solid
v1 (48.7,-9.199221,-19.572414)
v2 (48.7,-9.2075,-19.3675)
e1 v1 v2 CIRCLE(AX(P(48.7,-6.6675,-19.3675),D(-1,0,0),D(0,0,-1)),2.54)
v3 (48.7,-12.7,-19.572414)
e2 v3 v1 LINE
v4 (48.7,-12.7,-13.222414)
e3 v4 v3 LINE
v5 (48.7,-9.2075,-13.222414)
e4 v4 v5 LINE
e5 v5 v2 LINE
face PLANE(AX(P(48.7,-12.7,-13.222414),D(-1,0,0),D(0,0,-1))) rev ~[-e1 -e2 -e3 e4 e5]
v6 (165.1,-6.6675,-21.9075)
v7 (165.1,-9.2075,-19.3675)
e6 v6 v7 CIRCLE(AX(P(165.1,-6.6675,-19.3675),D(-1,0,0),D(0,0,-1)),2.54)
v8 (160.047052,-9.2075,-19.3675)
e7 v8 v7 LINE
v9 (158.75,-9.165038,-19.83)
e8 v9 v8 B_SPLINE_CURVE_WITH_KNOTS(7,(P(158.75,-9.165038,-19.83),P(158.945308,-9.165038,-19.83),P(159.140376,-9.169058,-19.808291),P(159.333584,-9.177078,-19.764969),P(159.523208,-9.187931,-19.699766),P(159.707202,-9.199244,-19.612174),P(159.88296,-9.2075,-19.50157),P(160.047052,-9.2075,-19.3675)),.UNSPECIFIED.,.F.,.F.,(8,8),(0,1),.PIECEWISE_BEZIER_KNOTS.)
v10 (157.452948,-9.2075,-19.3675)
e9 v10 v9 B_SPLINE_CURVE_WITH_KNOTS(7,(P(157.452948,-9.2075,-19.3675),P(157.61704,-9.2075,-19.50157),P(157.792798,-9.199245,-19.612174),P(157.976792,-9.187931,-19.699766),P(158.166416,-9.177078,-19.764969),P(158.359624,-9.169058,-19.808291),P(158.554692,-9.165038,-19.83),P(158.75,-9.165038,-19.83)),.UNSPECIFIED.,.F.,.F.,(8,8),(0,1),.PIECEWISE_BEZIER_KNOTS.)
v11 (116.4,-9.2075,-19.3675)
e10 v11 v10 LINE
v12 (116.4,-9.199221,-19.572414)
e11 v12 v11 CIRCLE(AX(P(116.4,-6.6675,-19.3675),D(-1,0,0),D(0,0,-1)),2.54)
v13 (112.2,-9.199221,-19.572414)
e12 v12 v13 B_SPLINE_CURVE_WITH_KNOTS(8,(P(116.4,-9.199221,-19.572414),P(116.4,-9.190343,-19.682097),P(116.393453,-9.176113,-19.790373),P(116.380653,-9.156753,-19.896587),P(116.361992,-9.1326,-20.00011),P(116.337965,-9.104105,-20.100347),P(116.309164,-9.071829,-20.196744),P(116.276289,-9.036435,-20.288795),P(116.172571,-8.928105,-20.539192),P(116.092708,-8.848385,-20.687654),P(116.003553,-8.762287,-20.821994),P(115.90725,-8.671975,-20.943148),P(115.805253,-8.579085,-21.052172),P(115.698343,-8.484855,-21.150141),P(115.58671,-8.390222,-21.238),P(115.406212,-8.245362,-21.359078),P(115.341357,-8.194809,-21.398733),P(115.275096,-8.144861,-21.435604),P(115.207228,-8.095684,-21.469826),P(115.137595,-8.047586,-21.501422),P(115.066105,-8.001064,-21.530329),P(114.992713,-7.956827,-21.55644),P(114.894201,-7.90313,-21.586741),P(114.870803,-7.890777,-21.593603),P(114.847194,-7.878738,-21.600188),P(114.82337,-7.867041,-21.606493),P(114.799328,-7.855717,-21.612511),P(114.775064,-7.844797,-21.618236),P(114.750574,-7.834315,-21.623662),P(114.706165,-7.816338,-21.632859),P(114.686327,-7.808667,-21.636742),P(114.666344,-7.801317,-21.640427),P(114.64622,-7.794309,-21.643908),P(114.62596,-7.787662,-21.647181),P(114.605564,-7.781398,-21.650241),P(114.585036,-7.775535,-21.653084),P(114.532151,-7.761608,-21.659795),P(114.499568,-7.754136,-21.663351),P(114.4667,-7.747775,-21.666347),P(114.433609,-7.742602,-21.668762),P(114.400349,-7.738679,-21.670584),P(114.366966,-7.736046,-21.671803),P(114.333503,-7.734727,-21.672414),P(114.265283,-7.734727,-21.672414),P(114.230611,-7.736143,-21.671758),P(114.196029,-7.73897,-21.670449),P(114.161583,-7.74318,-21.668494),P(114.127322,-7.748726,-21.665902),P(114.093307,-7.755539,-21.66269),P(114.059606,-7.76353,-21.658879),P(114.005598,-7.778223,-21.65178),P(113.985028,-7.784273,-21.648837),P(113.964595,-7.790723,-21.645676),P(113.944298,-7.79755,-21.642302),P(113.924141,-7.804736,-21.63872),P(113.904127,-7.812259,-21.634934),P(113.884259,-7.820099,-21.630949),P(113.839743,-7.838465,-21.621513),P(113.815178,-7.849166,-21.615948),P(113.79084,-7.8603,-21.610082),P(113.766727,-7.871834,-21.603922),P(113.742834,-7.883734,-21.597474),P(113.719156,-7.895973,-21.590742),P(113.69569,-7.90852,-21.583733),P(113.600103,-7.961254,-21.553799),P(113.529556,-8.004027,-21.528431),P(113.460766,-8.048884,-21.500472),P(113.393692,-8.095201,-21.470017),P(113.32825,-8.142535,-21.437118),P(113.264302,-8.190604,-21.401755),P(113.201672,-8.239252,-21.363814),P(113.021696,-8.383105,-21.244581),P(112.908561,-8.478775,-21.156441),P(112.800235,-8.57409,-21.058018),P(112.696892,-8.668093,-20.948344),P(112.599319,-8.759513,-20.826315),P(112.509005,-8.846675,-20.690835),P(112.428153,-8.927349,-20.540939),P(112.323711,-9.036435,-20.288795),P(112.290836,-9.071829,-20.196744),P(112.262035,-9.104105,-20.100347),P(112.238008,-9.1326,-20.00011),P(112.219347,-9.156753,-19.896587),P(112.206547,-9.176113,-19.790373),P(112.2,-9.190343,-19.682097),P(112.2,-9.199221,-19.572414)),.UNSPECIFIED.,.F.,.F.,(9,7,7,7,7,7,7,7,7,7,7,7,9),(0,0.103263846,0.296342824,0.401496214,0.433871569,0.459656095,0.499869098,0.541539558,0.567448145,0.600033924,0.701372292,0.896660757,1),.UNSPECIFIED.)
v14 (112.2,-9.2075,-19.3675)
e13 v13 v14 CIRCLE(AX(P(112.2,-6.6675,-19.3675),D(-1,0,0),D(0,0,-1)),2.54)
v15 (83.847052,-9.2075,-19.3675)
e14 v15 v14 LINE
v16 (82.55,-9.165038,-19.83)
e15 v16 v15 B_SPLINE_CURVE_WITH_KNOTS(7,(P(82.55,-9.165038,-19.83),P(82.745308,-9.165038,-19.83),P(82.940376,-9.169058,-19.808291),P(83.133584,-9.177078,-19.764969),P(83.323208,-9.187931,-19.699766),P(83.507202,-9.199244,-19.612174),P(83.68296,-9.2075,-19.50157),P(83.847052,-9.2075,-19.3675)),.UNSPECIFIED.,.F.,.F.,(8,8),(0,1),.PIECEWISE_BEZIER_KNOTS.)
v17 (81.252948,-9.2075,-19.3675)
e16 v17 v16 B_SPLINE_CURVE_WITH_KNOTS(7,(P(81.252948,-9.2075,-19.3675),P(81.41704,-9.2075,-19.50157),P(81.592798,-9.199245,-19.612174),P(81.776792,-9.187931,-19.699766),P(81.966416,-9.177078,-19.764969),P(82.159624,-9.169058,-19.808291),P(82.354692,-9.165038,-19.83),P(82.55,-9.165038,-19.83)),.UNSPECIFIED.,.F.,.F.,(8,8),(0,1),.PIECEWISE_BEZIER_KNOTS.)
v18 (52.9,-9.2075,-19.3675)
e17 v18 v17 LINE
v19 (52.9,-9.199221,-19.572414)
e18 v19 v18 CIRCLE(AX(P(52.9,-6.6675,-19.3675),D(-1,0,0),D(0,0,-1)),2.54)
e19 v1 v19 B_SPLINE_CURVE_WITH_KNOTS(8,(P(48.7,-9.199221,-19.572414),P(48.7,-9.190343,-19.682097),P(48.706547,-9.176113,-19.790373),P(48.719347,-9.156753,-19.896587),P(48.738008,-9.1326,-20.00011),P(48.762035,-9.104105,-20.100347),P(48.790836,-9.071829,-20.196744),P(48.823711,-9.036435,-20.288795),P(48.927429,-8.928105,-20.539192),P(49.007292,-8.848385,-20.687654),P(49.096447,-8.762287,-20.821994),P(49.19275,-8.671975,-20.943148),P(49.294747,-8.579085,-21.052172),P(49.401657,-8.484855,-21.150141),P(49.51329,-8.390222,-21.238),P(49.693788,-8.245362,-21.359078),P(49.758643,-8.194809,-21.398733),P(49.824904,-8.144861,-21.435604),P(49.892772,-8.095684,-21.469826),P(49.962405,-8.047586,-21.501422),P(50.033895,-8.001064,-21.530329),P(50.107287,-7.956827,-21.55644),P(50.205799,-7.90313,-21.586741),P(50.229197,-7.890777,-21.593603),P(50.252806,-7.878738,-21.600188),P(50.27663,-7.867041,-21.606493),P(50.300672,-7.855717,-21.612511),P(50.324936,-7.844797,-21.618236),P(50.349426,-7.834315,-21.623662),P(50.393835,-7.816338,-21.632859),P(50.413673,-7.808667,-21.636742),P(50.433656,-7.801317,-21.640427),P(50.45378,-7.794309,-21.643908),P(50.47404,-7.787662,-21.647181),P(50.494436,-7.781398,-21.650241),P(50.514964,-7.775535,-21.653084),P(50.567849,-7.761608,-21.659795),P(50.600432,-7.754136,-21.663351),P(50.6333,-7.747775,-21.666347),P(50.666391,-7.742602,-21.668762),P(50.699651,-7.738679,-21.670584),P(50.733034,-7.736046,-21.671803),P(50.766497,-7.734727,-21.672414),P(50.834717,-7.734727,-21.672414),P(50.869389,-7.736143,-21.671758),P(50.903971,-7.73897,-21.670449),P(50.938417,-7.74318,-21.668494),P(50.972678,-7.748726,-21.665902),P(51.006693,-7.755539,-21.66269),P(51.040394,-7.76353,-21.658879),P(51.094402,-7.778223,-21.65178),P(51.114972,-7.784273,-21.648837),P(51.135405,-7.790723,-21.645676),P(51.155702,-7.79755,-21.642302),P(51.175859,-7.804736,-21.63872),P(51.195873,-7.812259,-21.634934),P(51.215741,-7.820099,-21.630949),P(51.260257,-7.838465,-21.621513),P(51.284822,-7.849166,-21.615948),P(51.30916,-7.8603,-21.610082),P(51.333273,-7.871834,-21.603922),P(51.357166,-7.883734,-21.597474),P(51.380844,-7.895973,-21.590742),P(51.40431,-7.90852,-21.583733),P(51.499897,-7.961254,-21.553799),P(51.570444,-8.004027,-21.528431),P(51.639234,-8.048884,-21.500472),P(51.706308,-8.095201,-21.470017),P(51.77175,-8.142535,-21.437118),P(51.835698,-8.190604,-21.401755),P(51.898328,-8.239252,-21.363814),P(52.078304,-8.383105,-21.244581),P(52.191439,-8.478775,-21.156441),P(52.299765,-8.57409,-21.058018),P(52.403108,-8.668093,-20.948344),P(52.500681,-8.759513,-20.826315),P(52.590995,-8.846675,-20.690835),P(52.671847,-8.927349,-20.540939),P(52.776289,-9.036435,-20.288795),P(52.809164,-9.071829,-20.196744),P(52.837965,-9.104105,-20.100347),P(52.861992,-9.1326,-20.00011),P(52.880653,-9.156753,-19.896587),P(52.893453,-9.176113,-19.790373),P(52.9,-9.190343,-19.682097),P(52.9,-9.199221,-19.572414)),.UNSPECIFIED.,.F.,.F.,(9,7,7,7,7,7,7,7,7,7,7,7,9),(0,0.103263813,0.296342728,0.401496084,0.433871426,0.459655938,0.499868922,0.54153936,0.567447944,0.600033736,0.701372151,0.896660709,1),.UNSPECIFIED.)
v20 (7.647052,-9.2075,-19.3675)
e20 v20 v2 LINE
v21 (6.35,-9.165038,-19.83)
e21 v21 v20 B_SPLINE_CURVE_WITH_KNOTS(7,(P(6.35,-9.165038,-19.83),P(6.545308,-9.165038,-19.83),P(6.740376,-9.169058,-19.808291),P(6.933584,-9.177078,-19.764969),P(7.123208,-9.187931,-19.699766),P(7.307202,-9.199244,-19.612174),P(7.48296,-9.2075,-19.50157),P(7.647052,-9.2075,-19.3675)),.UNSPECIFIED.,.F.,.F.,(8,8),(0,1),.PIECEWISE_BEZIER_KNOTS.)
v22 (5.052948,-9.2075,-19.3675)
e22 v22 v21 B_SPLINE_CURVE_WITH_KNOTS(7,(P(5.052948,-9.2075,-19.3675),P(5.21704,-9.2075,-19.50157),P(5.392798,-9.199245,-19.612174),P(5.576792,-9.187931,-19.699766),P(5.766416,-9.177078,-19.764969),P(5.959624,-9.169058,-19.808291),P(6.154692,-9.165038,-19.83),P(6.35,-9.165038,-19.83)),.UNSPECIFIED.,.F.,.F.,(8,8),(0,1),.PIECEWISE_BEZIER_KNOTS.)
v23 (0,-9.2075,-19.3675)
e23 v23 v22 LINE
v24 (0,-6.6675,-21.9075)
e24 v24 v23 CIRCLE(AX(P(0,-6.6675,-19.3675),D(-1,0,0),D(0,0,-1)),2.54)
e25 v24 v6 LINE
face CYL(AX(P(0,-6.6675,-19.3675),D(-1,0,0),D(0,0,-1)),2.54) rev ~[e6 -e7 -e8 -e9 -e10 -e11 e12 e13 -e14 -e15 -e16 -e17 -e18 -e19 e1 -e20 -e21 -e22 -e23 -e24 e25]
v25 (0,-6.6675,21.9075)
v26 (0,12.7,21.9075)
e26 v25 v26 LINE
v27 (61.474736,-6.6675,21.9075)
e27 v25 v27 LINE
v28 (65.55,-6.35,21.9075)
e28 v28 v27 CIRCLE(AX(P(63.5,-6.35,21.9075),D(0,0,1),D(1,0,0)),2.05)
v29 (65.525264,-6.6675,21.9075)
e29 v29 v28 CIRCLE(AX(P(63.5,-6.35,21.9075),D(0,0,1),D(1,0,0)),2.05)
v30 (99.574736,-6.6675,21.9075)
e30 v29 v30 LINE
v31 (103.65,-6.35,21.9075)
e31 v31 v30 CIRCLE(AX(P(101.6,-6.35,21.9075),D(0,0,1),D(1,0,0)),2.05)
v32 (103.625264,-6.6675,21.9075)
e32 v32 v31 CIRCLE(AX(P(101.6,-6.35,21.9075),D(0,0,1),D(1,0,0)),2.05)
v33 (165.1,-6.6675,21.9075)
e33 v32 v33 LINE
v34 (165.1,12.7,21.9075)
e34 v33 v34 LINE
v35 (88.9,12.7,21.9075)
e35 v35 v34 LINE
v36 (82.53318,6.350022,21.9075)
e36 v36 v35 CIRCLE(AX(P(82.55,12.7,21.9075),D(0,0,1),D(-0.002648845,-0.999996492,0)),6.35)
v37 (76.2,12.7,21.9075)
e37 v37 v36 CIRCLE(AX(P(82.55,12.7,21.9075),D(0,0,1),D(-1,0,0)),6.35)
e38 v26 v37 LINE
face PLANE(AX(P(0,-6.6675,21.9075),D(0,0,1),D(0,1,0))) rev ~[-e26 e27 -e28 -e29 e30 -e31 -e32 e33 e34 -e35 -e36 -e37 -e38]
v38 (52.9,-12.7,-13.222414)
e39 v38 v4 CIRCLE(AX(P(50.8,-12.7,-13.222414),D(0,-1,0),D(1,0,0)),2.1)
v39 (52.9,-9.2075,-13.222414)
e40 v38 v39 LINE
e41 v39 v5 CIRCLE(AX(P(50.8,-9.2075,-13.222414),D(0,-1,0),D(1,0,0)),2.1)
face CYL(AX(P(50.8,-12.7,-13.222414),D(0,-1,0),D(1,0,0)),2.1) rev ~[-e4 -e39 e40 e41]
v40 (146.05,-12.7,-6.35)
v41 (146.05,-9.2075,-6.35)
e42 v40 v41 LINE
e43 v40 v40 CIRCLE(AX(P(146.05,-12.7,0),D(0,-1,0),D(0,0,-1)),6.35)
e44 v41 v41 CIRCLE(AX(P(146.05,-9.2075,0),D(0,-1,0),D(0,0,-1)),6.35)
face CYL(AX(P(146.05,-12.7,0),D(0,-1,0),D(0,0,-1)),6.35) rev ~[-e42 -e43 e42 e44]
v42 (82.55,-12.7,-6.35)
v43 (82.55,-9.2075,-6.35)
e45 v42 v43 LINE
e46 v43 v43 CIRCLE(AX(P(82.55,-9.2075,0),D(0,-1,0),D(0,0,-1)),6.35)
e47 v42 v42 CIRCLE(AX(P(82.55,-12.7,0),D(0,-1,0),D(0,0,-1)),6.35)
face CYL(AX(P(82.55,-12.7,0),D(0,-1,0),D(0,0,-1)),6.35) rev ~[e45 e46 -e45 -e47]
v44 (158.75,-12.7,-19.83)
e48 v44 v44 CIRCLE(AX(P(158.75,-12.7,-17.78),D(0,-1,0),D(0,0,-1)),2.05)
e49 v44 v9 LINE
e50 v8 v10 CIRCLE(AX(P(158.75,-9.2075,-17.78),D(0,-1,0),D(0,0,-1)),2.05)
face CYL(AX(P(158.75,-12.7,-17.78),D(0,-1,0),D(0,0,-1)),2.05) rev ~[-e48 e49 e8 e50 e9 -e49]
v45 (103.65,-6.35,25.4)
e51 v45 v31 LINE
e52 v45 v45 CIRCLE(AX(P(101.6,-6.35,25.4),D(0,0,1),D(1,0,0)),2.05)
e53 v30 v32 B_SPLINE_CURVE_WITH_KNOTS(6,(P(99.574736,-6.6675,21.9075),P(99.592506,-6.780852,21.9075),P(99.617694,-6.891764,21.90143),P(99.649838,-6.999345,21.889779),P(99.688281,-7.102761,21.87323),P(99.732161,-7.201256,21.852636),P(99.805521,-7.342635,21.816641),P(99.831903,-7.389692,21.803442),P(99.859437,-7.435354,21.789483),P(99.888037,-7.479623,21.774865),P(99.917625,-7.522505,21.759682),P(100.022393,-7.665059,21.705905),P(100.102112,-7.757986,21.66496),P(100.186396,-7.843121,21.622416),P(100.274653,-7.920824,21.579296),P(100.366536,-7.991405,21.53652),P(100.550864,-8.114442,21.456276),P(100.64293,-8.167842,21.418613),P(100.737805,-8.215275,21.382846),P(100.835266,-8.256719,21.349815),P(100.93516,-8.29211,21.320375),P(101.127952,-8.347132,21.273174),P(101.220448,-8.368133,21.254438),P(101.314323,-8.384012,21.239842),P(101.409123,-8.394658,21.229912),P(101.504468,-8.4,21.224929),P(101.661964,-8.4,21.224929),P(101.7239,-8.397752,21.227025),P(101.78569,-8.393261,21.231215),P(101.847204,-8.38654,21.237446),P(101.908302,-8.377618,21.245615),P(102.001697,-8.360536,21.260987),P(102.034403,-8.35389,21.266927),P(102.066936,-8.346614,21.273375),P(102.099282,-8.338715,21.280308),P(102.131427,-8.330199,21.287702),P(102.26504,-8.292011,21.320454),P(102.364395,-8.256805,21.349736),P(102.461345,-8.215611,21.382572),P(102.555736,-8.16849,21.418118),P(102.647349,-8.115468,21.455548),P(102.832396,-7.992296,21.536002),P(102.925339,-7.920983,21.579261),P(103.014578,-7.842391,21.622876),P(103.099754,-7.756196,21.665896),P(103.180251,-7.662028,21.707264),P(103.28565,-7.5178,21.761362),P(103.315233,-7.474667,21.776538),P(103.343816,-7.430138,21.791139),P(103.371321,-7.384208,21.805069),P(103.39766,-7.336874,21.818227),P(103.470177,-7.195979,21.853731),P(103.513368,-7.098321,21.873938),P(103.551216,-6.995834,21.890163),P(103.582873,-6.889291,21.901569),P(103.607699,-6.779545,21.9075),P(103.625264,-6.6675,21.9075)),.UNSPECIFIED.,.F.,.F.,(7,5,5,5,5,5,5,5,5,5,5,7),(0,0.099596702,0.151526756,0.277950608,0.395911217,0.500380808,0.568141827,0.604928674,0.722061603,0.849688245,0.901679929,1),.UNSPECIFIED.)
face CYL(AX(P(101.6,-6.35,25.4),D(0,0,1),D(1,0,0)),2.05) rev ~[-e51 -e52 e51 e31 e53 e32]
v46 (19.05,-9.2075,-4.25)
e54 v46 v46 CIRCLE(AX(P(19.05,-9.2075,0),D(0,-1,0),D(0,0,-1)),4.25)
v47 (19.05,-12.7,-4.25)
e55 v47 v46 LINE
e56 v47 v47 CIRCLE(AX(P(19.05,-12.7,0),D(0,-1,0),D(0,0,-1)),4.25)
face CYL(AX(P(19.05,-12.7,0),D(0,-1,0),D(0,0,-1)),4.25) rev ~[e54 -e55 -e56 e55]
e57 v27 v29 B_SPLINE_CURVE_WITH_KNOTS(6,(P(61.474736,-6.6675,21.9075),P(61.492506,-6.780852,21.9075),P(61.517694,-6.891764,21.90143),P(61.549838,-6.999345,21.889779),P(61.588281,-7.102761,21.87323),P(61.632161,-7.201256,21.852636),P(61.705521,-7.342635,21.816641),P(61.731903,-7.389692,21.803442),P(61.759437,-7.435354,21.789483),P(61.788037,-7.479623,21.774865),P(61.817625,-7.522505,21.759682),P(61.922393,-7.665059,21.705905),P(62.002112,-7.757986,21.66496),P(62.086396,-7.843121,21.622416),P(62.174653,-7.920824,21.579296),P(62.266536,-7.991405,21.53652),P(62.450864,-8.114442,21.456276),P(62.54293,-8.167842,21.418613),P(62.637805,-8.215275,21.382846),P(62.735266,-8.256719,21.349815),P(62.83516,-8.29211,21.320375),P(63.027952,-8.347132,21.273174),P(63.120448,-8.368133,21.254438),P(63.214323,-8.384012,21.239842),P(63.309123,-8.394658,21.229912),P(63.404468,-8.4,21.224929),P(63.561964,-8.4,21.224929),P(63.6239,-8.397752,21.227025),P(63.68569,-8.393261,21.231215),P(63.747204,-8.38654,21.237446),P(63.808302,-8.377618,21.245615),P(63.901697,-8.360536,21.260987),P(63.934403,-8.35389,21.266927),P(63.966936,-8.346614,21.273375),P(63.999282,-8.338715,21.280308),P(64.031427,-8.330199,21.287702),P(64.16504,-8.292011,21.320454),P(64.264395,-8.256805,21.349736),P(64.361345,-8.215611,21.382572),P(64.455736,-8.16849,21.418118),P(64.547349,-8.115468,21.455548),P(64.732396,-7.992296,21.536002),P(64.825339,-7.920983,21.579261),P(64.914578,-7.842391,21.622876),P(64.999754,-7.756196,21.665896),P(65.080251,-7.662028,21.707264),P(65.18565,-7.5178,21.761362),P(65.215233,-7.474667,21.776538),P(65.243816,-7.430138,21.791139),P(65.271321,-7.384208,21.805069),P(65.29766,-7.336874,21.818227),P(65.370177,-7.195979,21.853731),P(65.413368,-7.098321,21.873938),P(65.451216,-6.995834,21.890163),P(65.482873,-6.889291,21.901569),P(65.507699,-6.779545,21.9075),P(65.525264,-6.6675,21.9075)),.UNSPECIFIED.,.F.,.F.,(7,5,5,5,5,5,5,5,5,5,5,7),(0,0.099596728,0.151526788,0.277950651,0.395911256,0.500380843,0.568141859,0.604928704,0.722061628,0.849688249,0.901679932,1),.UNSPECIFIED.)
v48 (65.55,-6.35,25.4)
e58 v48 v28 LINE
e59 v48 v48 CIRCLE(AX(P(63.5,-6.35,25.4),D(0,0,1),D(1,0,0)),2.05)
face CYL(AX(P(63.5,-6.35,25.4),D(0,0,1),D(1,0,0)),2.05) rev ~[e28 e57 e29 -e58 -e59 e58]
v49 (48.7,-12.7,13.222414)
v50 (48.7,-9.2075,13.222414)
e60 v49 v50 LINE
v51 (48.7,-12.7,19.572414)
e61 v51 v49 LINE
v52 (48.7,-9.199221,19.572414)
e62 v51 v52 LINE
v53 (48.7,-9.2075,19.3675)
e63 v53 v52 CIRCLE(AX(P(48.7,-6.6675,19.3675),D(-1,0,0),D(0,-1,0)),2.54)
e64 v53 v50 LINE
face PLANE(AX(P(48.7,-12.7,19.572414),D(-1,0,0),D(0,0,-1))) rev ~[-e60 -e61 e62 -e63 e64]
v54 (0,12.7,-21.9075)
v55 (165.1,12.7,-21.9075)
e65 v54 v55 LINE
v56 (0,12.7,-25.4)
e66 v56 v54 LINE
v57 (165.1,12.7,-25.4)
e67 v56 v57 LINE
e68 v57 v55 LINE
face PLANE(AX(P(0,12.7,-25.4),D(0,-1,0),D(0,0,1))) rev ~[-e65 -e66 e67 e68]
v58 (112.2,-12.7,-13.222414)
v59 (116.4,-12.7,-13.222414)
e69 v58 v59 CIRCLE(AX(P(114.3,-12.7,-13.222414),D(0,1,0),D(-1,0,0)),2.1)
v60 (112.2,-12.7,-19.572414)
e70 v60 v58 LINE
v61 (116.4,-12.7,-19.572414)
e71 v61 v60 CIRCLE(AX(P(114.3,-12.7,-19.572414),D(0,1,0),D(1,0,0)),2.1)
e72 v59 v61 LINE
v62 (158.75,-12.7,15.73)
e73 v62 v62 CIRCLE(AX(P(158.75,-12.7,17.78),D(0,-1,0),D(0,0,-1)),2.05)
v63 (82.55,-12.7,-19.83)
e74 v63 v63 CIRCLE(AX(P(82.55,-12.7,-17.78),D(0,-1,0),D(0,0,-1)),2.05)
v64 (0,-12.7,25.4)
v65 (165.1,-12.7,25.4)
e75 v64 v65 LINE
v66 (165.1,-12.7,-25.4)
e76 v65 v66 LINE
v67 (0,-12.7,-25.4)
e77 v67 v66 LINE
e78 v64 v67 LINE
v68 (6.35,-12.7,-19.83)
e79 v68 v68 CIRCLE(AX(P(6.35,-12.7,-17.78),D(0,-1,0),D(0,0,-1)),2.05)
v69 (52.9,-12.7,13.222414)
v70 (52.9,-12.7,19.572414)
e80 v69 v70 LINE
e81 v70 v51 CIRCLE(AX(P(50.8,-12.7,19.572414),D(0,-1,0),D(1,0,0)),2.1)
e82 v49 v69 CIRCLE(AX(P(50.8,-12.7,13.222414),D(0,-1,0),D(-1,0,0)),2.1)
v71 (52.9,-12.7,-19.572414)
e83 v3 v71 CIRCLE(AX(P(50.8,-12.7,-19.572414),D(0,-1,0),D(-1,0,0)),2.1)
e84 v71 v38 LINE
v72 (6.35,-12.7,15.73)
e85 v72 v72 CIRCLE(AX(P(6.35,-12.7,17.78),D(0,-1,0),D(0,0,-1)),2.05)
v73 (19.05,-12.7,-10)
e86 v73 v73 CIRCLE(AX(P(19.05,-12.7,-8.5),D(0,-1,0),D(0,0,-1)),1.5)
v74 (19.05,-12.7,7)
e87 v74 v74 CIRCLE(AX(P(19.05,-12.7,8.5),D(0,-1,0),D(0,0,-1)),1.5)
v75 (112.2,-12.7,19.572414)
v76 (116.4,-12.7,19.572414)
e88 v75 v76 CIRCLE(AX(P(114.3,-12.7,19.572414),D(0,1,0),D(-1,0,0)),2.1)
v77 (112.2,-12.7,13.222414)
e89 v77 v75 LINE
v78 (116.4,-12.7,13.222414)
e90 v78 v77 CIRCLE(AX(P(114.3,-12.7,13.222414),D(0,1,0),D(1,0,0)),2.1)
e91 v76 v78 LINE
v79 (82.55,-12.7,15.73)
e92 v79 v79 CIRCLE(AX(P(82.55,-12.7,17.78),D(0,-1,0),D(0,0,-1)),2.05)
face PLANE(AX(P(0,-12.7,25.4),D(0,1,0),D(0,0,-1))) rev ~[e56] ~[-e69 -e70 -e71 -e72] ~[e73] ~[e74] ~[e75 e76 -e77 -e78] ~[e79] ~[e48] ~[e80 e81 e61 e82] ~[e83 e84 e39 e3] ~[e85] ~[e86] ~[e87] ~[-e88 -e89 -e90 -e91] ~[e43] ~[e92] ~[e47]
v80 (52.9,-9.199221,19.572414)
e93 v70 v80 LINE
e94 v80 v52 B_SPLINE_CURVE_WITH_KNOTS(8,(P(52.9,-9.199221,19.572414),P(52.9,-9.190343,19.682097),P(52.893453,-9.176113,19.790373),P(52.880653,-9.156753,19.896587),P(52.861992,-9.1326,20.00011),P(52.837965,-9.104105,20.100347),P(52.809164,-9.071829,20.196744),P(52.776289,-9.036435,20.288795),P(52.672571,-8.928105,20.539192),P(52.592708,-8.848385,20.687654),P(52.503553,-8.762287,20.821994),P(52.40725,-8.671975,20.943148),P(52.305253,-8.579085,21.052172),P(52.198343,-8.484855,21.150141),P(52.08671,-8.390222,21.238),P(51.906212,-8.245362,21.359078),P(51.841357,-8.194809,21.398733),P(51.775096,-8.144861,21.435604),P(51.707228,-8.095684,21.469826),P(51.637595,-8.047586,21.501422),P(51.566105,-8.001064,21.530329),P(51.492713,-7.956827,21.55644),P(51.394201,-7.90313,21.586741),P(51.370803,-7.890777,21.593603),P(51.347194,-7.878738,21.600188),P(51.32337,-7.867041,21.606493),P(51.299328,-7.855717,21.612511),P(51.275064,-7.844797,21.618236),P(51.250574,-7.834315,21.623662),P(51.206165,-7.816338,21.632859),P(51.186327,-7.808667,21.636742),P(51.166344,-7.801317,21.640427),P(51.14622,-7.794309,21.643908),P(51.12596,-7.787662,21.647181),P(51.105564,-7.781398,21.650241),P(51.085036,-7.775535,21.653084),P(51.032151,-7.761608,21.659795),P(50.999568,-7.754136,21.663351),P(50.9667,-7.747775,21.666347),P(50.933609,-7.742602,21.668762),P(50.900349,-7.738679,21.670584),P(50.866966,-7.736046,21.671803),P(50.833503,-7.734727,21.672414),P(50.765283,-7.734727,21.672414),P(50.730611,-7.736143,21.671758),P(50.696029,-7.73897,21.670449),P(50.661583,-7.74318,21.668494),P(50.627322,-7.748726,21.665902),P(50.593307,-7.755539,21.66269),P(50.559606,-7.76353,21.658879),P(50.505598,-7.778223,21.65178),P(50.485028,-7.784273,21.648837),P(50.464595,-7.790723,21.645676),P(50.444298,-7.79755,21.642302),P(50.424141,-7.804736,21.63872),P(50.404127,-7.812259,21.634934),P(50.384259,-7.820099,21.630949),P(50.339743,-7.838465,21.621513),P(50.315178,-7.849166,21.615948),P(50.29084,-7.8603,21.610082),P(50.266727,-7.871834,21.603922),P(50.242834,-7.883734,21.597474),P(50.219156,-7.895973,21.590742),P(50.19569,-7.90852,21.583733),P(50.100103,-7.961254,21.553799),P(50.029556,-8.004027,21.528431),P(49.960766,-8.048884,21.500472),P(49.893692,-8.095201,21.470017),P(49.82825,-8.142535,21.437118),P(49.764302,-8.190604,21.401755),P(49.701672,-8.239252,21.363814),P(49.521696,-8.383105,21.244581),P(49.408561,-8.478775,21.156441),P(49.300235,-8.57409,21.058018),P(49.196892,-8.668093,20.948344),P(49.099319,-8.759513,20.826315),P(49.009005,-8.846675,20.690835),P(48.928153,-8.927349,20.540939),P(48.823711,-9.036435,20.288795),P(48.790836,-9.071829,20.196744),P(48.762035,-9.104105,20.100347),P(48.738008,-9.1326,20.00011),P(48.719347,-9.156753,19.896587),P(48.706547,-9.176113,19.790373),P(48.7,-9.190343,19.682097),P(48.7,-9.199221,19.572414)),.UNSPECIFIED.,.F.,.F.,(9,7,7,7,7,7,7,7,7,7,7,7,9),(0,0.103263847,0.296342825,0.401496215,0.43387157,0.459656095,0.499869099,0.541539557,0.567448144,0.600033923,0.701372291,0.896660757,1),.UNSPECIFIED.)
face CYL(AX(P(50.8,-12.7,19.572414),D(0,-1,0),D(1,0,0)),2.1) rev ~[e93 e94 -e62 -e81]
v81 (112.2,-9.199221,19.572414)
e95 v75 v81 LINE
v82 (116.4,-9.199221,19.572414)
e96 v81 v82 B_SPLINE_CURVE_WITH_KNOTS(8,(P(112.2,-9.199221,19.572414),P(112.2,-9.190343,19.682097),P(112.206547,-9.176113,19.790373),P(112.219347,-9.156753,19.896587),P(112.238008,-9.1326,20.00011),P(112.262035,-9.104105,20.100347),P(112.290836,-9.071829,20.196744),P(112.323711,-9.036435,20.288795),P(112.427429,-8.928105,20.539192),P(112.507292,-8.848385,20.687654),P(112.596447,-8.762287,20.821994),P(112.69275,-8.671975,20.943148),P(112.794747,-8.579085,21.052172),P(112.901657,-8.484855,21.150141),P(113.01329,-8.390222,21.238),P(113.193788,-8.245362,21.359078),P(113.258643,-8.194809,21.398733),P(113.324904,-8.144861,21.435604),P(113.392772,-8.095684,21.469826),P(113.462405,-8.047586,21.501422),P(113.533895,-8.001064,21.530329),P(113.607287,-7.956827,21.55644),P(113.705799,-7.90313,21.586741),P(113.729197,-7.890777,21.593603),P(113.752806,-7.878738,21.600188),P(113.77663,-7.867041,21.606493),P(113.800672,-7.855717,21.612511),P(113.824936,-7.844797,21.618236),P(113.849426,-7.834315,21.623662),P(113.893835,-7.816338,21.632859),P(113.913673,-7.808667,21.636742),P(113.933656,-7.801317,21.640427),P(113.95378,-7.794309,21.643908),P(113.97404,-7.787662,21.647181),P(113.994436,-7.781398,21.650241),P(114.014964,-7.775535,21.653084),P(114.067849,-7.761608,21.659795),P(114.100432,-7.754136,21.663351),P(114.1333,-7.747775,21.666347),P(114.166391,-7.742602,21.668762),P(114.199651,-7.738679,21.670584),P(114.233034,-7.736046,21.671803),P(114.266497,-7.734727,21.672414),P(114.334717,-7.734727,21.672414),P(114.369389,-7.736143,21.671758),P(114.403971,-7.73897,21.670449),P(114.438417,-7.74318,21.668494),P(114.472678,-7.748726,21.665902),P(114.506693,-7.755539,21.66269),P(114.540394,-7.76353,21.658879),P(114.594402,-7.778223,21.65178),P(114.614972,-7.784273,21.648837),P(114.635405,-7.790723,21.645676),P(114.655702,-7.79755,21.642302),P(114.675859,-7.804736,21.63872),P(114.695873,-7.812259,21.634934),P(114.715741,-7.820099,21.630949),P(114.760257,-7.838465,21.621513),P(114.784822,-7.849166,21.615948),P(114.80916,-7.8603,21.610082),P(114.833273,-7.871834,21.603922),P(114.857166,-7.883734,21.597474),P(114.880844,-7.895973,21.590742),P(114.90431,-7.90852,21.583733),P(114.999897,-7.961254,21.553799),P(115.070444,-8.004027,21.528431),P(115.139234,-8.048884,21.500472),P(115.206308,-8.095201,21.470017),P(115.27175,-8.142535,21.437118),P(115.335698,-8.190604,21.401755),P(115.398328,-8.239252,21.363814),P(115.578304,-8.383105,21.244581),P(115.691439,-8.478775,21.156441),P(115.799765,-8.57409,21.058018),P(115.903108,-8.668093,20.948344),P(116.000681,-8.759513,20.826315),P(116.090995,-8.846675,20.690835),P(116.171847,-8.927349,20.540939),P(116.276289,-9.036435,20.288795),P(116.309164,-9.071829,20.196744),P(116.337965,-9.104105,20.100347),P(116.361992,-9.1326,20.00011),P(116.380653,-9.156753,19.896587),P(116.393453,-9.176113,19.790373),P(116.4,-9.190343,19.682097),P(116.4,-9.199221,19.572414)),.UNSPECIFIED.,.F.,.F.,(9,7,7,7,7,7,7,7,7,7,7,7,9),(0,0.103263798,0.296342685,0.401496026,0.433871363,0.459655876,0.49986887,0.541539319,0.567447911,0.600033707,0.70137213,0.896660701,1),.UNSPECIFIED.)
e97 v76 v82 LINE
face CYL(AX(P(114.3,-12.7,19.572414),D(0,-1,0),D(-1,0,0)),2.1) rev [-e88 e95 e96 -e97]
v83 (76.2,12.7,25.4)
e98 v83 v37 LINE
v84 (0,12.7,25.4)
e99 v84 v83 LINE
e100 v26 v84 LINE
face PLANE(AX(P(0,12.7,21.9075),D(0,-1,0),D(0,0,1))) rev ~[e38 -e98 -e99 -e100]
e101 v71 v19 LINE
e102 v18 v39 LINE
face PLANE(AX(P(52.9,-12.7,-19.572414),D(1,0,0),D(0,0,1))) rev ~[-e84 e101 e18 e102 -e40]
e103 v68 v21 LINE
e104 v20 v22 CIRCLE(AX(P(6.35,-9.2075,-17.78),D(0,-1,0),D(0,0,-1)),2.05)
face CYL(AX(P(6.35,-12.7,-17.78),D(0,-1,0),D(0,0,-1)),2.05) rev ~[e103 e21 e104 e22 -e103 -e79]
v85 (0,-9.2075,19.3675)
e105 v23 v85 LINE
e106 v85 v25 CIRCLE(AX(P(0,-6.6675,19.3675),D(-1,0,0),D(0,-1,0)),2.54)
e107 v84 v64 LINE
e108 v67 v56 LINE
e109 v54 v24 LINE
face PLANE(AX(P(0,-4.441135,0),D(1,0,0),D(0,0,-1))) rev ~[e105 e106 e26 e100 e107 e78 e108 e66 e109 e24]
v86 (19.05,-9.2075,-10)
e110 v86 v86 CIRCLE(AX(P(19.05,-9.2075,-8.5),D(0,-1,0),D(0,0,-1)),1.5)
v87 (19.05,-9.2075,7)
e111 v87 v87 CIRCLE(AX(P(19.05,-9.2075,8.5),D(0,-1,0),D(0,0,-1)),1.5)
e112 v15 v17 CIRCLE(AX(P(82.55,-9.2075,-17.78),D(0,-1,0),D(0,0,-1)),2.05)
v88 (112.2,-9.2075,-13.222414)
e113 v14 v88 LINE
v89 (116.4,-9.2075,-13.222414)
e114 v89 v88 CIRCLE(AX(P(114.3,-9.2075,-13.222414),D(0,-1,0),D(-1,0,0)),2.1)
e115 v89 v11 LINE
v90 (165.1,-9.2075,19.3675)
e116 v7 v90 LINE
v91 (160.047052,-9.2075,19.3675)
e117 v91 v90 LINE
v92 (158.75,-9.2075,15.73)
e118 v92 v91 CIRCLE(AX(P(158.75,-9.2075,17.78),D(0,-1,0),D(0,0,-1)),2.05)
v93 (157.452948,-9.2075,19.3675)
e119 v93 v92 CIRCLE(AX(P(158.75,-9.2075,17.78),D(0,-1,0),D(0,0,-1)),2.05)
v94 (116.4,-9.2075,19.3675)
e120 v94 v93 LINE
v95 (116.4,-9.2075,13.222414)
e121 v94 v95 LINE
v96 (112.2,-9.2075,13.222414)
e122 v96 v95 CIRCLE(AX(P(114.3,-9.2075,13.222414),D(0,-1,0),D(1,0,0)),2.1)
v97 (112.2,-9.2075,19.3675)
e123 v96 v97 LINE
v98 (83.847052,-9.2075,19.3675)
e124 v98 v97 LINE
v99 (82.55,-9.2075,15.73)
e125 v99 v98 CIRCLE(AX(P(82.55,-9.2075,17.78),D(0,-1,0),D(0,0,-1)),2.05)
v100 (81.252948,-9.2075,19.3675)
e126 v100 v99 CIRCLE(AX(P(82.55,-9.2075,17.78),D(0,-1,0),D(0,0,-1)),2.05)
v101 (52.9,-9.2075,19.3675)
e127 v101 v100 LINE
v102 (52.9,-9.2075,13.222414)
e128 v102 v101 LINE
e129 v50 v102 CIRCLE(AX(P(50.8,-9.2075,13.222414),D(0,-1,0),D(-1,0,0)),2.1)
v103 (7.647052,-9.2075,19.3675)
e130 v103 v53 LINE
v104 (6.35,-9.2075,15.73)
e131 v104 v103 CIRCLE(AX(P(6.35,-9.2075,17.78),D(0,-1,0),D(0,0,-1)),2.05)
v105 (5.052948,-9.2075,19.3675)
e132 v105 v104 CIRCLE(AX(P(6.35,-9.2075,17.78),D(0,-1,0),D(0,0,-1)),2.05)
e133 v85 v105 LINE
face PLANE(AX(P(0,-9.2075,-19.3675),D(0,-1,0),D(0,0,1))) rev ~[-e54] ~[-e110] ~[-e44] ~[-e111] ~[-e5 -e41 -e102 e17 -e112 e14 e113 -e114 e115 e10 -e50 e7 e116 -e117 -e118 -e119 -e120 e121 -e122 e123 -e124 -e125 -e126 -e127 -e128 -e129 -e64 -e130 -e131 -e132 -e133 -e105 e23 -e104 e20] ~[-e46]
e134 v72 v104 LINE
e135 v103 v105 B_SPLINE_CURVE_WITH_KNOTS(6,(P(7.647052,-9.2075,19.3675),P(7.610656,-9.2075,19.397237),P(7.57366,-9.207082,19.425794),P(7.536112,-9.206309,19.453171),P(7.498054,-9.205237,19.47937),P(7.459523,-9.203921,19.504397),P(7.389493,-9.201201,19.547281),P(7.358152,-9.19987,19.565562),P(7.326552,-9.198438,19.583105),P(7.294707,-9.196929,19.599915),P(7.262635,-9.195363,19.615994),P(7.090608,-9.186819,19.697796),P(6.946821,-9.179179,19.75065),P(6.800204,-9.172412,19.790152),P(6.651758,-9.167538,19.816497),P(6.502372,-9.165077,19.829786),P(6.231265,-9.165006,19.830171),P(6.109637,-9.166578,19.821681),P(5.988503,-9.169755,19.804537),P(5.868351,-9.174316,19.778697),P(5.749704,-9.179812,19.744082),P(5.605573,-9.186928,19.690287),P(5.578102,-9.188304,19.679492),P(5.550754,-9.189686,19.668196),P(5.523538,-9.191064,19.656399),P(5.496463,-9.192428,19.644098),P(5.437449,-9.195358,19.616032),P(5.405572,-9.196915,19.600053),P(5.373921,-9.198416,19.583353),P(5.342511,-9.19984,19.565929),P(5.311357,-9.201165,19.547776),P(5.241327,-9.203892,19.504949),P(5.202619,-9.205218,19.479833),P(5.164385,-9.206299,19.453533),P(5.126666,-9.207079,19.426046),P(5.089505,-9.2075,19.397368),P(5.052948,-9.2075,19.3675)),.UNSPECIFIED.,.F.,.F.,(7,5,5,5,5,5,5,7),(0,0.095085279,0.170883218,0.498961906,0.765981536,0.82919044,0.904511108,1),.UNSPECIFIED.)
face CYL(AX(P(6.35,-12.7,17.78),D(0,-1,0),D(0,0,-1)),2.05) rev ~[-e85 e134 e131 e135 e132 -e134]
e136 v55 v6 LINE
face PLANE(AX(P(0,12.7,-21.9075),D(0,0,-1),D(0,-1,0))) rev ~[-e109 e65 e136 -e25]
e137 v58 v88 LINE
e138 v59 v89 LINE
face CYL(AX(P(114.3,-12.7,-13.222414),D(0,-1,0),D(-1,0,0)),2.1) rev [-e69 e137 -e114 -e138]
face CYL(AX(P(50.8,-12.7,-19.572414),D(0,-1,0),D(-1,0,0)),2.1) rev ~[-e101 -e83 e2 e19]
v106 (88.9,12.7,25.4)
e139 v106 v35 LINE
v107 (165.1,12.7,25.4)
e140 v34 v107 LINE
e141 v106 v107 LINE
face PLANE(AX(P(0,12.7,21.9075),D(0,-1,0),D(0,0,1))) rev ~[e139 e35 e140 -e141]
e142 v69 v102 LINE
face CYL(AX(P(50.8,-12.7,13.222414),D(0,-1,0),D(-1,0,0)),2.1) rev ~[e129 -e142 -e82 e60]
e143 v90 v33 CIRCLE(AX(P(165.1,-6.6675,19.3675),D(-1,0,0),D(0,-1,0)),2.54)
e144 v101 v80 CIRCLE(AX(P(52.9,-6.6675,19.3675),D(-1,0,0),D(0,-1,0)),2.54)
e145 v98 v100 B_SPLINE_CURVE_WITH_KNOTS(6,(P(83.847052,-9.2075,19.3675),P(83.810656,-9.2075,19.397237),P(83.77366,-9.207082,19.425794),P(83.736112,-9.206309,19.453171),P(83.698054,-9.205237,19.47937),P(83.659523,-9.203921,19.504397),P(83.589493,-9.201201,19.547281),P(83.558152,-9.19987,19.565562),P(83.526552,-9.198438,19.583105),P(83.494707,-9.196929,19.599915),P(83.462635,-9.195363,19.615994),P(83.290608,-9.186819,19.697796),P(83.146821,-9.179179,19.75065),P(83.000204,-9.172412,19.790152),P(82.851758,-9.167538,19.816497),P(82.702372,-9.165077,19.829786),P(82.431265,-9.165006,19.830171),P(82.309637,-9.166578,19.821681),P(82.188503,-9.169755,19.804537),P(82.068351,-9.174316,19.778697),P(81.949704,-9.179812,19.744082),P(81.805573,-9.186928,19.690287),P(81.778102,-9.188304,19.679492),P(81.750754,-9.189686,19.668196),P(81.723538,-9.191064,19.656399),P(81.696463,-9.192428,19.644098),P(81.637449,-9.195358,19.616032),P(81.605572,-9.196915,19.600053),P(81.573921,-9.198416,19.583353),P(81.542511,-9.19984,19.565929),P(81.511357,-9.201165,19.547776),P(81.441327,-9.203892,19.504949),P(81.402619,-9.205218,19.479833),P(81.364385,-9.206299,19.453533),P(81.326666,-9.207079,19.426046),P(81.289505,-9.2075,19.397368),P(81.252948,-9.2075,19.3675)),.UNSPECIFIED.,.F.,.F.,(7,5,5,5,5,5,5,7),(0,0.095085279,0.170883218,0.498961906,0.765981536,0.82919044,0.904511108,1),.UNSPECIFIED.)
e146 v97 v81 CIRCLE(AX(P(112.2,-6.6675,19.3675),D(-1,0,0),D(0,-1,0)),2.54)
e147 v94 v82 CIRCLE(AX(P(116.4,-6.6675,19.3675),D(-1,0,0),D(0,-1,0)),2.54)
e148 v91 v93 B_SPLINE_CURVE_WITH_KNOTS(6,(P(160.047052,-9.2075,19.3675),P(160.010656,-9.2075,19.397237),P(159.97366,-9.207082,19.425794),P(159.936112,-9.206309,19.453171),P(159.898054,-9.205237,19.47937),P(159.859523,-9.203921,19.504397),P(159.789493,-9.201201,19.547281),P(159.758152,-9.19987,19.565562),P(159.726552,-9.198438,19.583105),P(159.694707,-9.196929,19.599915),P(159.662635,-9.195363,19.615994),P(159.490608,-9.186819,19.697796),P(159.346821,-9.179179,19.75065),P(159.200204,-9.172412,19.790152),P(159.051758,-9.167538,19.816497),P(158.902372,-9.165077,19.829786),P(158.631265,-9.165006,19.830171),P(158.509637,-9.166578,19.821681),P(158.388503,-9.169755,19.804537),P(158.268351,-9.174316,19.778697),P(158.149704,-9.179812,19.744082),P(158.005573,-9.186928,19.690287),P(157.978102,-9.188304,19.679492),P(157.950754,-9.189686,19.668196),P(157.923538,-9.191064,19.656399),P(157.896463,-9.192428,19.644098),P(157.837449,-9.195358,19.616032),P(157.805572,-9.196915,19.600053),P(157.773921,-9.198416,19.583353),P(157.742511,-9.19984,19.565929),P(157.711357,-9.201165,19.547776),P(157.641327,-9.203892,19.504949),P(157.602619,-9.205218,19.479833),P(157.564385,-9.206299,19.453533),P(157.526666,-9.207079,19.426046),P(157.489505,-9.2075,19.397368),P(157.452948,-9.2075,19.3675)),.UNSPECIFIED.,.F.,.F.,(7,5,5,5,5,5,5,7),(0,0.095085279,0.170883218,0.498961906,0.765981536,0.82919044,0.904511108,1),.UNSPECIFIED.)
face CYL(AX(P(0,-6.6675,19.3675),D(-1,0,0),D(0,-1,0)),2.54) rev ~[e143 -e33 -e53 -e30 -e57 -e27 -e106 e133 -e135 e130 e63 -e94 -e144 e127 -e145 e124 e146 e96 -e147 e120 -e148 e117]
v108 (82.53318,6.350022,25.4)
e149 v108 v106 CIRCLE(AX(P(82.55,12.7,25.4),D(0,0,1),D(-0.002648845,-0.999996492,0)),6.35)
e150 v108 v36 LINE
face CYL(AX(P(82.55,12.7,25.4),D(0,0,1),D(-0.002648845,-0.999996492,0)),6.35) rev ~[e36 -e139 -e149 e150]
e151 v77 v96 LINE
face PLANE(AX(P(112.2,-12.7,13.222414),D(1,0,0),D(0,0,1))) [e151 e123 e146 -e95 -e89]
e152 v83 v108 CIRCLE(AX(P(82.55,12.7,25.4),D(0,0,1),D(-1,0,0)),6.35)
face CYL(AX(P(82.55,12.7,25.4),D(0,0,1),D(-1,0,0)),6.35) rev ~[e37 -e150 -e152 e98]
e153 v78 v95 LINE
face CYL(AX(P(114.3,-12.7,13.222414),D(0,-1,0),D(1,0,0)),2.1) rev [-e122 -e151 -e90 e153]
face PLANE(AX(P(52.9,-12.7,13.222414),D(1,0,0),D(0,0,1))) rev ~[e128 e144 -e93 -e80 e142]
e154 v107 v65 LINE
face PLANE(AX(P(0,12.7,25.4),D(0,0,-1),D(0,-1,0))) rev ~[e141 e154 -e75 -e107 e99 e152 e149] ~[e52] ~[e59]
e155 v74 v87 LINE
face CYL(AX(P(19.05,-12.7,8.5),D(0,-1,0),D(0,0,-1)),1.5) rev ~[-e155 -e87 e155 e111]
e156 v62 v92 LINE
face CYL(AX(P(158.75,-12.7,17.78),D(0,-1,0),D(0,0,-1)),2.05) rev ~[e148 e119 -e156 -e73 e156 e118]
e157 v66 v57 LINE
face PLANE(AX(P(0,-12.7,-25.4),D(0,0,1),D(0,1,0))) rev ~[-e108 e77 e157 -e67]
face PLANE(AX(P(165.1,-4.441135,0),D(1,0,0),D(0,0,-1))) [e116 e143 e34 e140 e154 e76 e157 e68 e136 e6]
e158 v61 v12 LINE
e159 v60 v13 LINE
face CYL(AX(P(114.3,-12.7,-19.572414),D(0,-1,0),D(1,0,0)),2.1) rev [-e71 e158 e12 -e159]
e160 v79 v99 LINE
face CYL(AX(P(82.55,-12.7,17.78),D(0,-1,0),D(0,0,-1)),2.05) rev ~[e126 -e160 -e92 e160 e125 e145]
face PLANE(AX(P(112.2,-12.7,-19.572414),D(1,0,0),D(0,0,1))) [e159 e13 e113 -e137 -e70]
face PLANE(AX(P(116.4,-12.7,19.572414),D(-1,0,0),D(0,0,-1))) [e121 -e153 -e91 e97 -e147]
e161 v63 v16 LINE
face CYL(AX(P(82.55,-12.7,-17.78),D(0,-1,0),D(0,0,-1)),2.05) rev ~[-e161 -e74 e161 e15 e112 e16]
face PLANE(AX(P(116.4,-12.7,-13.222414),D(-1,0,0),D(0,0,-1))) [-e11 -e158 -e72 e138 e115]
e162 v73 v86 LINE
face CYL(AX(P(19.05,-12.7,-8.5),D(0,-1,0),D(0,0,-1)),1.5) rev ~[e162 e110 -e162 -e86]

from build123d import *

# Parameters (mm, degrees)
BOSS_EXTRUDE1_DEPTH = 165.1
SKETCH2_R           = 4.25
SKETCH2_R_2         = 6.35
SKETCH2_R_3         = 1.5
CUT_EXTRUDE1_DEPTH  = 11.938
SKETCH3_R           = 2.1
CUT_EXTRUDE2_DEPTH  = 7.874
CUT_EXTRUDE3_DEPTH  = 12.446
SKETCH5_R           = 2.05
CUT_EXTRUDE4_DEPTH  = 6.35
SKETCH6_R           = 2.05
CUT_EXTRUDE5_DEPTH  = 6.35


with BuildPart() as part:
    # Sketch1 → Boss-Extrude1 (new body)
    with BuildSketch(Plane(origin=(0, 0, 0), x_dir=(0, 0, -1), z_dir=(1, 0, 0))):
        with BuildLine():
            Line((-21.9075, -6.6675), (-21.9075, 9.2075))
            Line((-21.9075, 9.2075), (-21.9075, 12.7))
            Line((-21.9075, 12.7), (-25.4, 12.7))
            Line((-25.4, 12.7), (-25.4, -12.7))
            Line((-25.4, -12.7), (25.4, -12.7))
            Line((25.4, -12.7), (25.4, 12.7))
            Line((25.4, 12.7), (21.9075, 12.7))
            Line((21.9075, 12.7), (21.9075, 9.2075))
            Line((21.9075, 9.2075), (21.9075, -6.6675))
            ThreePointArc((21.9075, -6.6675), (21.163551224, -8.463551224), (19.3675, -9.2075))
            Line((19.3675, -9.2075), (-19.3675, -9.2075))
            ThreePointArc((-19.3675, -9.2075), (-21.163551224, -8.463551224), (-21.9075, -6.6675))
        make_face()
    extrude(amount=BOSS_EXTRUDE1_DEPTH)

    # Sketch2 → Cut-Extrude1 (cut)
    with BuildSketch(Plane.XZ.offset(12.7)):
        with Locations(Location((19.05, 0, 0), (0, 0, 270))):
            Circle(SKETCH2_R)
        with Locations(Location((146.05, 0, 0), (0, 0, 270))):
            Circle(SKETCH2_R_2)
        with Locations(Location((19.05, 8.5, 0), (0, 0, 270))):
            Circle(SKETCH2_R_3)
        with Locations(Location((19.05, -8.5, 0), (0, 0, 270))):
            Circle(SKETCH2_R_3)
        with Locations(Location((82.55, 0, 0), (0, 0, 270))):
            Circle(SKETCH2_R_2)
    extrude(amount=-CUT_EXTRUDE1_DEPTH, mode=Mode.SUBTRACT)

    # Sketch3 → Cut-Extrude2 (cut)
    with BuildSketch(Plane.XZ.offset(12.7)):
        with BuildLine():
            Line((52.9, 16.397413762), (52.9, 19.572413762))
            ThreePointArc((52.9, 19.572413762), (50.8, 21.672413762), (48.7, 19.572413762))
            Line((48.7, 19.572413762), (48.7, 16.397413762))
            ThreePointArc((48.7, 16.397413762), (50.8, 18.497413762), (52.9, 16.397413762))
        make_face()
        with Locations((50.8, 16.397413762)):
            Circle(SKETCH3_R)
        with BuildLine():
            Line((52.9, 13.222413762), (52.9, 16.397413762))
            ThreePointArc((52.9, 16.397413762), (50.8, 14.297413762), (48.7, 16.397413762))
            Line((48.7, 16.397413762), (48.7, 13.222413762))
            ThreePointArc((48.7, 13.222413762), (50.8, 11.122413762), (52.9, 13.222413762))
        make_face()
        with BuildLine():
            ThreePointArc((116.4, 13.222413762), (114.3, 11.122413762), (112.2, 13.222413762))
            Line((112.2, 13.222413762), (112.2, 19.572413762))
            ThreePointArc((112.2, 19.572413762), (114.3, 21.672413762), (116.4, 19.572413762))
            Line((116.4, 19.572413762), (116.4, 13.222413762))
        make_face()
        with BuildLine():
            Line((52.9, -19.572413762), (52.9, -13.222413762))
            ThreePointArc((52.9, -13.222413762), (50.8, -11.122413762), (48.7, -13.222413762))
            Line((48.7, -13.222413762), (48.7, -19.572413762))
            ThreePointArc((48.7, -19.572413762), (50.8, -21.672413762), (52.9, -19.572413762))
        make_face()
        with BuildLine():
            Line((112.2, -19.572413762), (112.2, -13.222413762))
            ThreePointArc((112.2, -13.222413762), (114.3, -11.122413762), (116.4, -13.222413762))
            Line((116.4, -13.222413762), (116.4, -19.572413762))
            ThreePointArc((116.4, -19.572413762), (114.3, -21.672413762), (112.2, -19.572413762))
        make_face()
    extrude(amount=-CUT_EXTRUDE2_DEPTH, mode=Mode.SUBTRACT)

    # Sketch4 → Cut-Extrude3 (cut)
    with BuildSketch(Plane.XY.offset(25.4)):
        with BuildLine():
            ThreePointArc((76.2, 12.7), (78.053929045, 8.21582271), (82.533179833, 6.350022277))
            Line((82.533179833, 6.350022277), (82.536543857, 12.7))
            Line((82.536543857, 12.7), (76.2, 12.7))
        make_face()
        with BuildLine():
            Line((82.536543857, 12.7), (82.533179833, 6.350022277))
            ThreePointArc((82.533179833, 6.350022277), (87.03417729, 8.203929045), (88.9, 12.7))
            Line((88.9, 12.7), (82.536543857, 12.7))
        make_face()
        with BuildLine():
            Line((76.2, 12.7), (82.536543857, 12.7))
            Line((82.536543857, 12.7), (82.539907889, 19.04999198))
            ThreePointArc((82.539907889, 19.04999198), (78.056305256, 17.186558542), (76.2, 12.7))
        make_face()
        with BuildLine():
            Line((82.539907889, 19.04999198), (82.536543857, 12.7))
            Line((82.536543857, 12.7), (88.9, 12.7))
            ThreePointArc((88.9, 12.7), (87.036558542, 17.193694744), (82.539907889, 19.04999198))
        make_face()
    extrude(amount=-CUT_EXTRUDE3_DEPTH, mode=Mode.SUBTRACT)

    # Sketch5 → Cut-Extrude4 (cut)
    with BuildSketch(Plane.XZ.offset(12.7)):
        with Locations(Location((6.35, 17.78, 0), (0, 0, 270))):
            Circle(SKETCH5_R)
        with Locations(Location((6.35, -17.78, 0), (0, 0, 270))):
            Circle(SKETCH5_R)
        with Locations(Location((82.55, -17.78, 0), (0, 0, 270))):
            Circle(SKETCH5_R)
        with Locations(Location((158.75, -17.78, 0), (0, 0, 270))):
            Circle(SKETCH5_R)
        with Locations(Location((82.55, 17.78, 0), (0, 0, 270))):
            Circle(SKETCH5_R)
        with Locations(Location((158.75, 17.78, 0), (0, 0, 270))):
            Circle(SKETCH5_R)
    extrude(amount=-CUT_EXTRUDE4_DEPTH, mode=Mode.SUBTRACT)

    # Sketch6 → Cut-Extrude5 (cut)
    with BuildSketch(Plane.XY.offset(25.4)):
        with Locations((101.6, -6.35)):
            Circle(SKETCH6_R)
        with Locations((63.5, -6.35)):
            Circle(SKETCH6_R)
    extrude(amount=-CUT_EXTRUDE5_DEPTH, mode=Mode.SUBTRACT)


solid = part.part
